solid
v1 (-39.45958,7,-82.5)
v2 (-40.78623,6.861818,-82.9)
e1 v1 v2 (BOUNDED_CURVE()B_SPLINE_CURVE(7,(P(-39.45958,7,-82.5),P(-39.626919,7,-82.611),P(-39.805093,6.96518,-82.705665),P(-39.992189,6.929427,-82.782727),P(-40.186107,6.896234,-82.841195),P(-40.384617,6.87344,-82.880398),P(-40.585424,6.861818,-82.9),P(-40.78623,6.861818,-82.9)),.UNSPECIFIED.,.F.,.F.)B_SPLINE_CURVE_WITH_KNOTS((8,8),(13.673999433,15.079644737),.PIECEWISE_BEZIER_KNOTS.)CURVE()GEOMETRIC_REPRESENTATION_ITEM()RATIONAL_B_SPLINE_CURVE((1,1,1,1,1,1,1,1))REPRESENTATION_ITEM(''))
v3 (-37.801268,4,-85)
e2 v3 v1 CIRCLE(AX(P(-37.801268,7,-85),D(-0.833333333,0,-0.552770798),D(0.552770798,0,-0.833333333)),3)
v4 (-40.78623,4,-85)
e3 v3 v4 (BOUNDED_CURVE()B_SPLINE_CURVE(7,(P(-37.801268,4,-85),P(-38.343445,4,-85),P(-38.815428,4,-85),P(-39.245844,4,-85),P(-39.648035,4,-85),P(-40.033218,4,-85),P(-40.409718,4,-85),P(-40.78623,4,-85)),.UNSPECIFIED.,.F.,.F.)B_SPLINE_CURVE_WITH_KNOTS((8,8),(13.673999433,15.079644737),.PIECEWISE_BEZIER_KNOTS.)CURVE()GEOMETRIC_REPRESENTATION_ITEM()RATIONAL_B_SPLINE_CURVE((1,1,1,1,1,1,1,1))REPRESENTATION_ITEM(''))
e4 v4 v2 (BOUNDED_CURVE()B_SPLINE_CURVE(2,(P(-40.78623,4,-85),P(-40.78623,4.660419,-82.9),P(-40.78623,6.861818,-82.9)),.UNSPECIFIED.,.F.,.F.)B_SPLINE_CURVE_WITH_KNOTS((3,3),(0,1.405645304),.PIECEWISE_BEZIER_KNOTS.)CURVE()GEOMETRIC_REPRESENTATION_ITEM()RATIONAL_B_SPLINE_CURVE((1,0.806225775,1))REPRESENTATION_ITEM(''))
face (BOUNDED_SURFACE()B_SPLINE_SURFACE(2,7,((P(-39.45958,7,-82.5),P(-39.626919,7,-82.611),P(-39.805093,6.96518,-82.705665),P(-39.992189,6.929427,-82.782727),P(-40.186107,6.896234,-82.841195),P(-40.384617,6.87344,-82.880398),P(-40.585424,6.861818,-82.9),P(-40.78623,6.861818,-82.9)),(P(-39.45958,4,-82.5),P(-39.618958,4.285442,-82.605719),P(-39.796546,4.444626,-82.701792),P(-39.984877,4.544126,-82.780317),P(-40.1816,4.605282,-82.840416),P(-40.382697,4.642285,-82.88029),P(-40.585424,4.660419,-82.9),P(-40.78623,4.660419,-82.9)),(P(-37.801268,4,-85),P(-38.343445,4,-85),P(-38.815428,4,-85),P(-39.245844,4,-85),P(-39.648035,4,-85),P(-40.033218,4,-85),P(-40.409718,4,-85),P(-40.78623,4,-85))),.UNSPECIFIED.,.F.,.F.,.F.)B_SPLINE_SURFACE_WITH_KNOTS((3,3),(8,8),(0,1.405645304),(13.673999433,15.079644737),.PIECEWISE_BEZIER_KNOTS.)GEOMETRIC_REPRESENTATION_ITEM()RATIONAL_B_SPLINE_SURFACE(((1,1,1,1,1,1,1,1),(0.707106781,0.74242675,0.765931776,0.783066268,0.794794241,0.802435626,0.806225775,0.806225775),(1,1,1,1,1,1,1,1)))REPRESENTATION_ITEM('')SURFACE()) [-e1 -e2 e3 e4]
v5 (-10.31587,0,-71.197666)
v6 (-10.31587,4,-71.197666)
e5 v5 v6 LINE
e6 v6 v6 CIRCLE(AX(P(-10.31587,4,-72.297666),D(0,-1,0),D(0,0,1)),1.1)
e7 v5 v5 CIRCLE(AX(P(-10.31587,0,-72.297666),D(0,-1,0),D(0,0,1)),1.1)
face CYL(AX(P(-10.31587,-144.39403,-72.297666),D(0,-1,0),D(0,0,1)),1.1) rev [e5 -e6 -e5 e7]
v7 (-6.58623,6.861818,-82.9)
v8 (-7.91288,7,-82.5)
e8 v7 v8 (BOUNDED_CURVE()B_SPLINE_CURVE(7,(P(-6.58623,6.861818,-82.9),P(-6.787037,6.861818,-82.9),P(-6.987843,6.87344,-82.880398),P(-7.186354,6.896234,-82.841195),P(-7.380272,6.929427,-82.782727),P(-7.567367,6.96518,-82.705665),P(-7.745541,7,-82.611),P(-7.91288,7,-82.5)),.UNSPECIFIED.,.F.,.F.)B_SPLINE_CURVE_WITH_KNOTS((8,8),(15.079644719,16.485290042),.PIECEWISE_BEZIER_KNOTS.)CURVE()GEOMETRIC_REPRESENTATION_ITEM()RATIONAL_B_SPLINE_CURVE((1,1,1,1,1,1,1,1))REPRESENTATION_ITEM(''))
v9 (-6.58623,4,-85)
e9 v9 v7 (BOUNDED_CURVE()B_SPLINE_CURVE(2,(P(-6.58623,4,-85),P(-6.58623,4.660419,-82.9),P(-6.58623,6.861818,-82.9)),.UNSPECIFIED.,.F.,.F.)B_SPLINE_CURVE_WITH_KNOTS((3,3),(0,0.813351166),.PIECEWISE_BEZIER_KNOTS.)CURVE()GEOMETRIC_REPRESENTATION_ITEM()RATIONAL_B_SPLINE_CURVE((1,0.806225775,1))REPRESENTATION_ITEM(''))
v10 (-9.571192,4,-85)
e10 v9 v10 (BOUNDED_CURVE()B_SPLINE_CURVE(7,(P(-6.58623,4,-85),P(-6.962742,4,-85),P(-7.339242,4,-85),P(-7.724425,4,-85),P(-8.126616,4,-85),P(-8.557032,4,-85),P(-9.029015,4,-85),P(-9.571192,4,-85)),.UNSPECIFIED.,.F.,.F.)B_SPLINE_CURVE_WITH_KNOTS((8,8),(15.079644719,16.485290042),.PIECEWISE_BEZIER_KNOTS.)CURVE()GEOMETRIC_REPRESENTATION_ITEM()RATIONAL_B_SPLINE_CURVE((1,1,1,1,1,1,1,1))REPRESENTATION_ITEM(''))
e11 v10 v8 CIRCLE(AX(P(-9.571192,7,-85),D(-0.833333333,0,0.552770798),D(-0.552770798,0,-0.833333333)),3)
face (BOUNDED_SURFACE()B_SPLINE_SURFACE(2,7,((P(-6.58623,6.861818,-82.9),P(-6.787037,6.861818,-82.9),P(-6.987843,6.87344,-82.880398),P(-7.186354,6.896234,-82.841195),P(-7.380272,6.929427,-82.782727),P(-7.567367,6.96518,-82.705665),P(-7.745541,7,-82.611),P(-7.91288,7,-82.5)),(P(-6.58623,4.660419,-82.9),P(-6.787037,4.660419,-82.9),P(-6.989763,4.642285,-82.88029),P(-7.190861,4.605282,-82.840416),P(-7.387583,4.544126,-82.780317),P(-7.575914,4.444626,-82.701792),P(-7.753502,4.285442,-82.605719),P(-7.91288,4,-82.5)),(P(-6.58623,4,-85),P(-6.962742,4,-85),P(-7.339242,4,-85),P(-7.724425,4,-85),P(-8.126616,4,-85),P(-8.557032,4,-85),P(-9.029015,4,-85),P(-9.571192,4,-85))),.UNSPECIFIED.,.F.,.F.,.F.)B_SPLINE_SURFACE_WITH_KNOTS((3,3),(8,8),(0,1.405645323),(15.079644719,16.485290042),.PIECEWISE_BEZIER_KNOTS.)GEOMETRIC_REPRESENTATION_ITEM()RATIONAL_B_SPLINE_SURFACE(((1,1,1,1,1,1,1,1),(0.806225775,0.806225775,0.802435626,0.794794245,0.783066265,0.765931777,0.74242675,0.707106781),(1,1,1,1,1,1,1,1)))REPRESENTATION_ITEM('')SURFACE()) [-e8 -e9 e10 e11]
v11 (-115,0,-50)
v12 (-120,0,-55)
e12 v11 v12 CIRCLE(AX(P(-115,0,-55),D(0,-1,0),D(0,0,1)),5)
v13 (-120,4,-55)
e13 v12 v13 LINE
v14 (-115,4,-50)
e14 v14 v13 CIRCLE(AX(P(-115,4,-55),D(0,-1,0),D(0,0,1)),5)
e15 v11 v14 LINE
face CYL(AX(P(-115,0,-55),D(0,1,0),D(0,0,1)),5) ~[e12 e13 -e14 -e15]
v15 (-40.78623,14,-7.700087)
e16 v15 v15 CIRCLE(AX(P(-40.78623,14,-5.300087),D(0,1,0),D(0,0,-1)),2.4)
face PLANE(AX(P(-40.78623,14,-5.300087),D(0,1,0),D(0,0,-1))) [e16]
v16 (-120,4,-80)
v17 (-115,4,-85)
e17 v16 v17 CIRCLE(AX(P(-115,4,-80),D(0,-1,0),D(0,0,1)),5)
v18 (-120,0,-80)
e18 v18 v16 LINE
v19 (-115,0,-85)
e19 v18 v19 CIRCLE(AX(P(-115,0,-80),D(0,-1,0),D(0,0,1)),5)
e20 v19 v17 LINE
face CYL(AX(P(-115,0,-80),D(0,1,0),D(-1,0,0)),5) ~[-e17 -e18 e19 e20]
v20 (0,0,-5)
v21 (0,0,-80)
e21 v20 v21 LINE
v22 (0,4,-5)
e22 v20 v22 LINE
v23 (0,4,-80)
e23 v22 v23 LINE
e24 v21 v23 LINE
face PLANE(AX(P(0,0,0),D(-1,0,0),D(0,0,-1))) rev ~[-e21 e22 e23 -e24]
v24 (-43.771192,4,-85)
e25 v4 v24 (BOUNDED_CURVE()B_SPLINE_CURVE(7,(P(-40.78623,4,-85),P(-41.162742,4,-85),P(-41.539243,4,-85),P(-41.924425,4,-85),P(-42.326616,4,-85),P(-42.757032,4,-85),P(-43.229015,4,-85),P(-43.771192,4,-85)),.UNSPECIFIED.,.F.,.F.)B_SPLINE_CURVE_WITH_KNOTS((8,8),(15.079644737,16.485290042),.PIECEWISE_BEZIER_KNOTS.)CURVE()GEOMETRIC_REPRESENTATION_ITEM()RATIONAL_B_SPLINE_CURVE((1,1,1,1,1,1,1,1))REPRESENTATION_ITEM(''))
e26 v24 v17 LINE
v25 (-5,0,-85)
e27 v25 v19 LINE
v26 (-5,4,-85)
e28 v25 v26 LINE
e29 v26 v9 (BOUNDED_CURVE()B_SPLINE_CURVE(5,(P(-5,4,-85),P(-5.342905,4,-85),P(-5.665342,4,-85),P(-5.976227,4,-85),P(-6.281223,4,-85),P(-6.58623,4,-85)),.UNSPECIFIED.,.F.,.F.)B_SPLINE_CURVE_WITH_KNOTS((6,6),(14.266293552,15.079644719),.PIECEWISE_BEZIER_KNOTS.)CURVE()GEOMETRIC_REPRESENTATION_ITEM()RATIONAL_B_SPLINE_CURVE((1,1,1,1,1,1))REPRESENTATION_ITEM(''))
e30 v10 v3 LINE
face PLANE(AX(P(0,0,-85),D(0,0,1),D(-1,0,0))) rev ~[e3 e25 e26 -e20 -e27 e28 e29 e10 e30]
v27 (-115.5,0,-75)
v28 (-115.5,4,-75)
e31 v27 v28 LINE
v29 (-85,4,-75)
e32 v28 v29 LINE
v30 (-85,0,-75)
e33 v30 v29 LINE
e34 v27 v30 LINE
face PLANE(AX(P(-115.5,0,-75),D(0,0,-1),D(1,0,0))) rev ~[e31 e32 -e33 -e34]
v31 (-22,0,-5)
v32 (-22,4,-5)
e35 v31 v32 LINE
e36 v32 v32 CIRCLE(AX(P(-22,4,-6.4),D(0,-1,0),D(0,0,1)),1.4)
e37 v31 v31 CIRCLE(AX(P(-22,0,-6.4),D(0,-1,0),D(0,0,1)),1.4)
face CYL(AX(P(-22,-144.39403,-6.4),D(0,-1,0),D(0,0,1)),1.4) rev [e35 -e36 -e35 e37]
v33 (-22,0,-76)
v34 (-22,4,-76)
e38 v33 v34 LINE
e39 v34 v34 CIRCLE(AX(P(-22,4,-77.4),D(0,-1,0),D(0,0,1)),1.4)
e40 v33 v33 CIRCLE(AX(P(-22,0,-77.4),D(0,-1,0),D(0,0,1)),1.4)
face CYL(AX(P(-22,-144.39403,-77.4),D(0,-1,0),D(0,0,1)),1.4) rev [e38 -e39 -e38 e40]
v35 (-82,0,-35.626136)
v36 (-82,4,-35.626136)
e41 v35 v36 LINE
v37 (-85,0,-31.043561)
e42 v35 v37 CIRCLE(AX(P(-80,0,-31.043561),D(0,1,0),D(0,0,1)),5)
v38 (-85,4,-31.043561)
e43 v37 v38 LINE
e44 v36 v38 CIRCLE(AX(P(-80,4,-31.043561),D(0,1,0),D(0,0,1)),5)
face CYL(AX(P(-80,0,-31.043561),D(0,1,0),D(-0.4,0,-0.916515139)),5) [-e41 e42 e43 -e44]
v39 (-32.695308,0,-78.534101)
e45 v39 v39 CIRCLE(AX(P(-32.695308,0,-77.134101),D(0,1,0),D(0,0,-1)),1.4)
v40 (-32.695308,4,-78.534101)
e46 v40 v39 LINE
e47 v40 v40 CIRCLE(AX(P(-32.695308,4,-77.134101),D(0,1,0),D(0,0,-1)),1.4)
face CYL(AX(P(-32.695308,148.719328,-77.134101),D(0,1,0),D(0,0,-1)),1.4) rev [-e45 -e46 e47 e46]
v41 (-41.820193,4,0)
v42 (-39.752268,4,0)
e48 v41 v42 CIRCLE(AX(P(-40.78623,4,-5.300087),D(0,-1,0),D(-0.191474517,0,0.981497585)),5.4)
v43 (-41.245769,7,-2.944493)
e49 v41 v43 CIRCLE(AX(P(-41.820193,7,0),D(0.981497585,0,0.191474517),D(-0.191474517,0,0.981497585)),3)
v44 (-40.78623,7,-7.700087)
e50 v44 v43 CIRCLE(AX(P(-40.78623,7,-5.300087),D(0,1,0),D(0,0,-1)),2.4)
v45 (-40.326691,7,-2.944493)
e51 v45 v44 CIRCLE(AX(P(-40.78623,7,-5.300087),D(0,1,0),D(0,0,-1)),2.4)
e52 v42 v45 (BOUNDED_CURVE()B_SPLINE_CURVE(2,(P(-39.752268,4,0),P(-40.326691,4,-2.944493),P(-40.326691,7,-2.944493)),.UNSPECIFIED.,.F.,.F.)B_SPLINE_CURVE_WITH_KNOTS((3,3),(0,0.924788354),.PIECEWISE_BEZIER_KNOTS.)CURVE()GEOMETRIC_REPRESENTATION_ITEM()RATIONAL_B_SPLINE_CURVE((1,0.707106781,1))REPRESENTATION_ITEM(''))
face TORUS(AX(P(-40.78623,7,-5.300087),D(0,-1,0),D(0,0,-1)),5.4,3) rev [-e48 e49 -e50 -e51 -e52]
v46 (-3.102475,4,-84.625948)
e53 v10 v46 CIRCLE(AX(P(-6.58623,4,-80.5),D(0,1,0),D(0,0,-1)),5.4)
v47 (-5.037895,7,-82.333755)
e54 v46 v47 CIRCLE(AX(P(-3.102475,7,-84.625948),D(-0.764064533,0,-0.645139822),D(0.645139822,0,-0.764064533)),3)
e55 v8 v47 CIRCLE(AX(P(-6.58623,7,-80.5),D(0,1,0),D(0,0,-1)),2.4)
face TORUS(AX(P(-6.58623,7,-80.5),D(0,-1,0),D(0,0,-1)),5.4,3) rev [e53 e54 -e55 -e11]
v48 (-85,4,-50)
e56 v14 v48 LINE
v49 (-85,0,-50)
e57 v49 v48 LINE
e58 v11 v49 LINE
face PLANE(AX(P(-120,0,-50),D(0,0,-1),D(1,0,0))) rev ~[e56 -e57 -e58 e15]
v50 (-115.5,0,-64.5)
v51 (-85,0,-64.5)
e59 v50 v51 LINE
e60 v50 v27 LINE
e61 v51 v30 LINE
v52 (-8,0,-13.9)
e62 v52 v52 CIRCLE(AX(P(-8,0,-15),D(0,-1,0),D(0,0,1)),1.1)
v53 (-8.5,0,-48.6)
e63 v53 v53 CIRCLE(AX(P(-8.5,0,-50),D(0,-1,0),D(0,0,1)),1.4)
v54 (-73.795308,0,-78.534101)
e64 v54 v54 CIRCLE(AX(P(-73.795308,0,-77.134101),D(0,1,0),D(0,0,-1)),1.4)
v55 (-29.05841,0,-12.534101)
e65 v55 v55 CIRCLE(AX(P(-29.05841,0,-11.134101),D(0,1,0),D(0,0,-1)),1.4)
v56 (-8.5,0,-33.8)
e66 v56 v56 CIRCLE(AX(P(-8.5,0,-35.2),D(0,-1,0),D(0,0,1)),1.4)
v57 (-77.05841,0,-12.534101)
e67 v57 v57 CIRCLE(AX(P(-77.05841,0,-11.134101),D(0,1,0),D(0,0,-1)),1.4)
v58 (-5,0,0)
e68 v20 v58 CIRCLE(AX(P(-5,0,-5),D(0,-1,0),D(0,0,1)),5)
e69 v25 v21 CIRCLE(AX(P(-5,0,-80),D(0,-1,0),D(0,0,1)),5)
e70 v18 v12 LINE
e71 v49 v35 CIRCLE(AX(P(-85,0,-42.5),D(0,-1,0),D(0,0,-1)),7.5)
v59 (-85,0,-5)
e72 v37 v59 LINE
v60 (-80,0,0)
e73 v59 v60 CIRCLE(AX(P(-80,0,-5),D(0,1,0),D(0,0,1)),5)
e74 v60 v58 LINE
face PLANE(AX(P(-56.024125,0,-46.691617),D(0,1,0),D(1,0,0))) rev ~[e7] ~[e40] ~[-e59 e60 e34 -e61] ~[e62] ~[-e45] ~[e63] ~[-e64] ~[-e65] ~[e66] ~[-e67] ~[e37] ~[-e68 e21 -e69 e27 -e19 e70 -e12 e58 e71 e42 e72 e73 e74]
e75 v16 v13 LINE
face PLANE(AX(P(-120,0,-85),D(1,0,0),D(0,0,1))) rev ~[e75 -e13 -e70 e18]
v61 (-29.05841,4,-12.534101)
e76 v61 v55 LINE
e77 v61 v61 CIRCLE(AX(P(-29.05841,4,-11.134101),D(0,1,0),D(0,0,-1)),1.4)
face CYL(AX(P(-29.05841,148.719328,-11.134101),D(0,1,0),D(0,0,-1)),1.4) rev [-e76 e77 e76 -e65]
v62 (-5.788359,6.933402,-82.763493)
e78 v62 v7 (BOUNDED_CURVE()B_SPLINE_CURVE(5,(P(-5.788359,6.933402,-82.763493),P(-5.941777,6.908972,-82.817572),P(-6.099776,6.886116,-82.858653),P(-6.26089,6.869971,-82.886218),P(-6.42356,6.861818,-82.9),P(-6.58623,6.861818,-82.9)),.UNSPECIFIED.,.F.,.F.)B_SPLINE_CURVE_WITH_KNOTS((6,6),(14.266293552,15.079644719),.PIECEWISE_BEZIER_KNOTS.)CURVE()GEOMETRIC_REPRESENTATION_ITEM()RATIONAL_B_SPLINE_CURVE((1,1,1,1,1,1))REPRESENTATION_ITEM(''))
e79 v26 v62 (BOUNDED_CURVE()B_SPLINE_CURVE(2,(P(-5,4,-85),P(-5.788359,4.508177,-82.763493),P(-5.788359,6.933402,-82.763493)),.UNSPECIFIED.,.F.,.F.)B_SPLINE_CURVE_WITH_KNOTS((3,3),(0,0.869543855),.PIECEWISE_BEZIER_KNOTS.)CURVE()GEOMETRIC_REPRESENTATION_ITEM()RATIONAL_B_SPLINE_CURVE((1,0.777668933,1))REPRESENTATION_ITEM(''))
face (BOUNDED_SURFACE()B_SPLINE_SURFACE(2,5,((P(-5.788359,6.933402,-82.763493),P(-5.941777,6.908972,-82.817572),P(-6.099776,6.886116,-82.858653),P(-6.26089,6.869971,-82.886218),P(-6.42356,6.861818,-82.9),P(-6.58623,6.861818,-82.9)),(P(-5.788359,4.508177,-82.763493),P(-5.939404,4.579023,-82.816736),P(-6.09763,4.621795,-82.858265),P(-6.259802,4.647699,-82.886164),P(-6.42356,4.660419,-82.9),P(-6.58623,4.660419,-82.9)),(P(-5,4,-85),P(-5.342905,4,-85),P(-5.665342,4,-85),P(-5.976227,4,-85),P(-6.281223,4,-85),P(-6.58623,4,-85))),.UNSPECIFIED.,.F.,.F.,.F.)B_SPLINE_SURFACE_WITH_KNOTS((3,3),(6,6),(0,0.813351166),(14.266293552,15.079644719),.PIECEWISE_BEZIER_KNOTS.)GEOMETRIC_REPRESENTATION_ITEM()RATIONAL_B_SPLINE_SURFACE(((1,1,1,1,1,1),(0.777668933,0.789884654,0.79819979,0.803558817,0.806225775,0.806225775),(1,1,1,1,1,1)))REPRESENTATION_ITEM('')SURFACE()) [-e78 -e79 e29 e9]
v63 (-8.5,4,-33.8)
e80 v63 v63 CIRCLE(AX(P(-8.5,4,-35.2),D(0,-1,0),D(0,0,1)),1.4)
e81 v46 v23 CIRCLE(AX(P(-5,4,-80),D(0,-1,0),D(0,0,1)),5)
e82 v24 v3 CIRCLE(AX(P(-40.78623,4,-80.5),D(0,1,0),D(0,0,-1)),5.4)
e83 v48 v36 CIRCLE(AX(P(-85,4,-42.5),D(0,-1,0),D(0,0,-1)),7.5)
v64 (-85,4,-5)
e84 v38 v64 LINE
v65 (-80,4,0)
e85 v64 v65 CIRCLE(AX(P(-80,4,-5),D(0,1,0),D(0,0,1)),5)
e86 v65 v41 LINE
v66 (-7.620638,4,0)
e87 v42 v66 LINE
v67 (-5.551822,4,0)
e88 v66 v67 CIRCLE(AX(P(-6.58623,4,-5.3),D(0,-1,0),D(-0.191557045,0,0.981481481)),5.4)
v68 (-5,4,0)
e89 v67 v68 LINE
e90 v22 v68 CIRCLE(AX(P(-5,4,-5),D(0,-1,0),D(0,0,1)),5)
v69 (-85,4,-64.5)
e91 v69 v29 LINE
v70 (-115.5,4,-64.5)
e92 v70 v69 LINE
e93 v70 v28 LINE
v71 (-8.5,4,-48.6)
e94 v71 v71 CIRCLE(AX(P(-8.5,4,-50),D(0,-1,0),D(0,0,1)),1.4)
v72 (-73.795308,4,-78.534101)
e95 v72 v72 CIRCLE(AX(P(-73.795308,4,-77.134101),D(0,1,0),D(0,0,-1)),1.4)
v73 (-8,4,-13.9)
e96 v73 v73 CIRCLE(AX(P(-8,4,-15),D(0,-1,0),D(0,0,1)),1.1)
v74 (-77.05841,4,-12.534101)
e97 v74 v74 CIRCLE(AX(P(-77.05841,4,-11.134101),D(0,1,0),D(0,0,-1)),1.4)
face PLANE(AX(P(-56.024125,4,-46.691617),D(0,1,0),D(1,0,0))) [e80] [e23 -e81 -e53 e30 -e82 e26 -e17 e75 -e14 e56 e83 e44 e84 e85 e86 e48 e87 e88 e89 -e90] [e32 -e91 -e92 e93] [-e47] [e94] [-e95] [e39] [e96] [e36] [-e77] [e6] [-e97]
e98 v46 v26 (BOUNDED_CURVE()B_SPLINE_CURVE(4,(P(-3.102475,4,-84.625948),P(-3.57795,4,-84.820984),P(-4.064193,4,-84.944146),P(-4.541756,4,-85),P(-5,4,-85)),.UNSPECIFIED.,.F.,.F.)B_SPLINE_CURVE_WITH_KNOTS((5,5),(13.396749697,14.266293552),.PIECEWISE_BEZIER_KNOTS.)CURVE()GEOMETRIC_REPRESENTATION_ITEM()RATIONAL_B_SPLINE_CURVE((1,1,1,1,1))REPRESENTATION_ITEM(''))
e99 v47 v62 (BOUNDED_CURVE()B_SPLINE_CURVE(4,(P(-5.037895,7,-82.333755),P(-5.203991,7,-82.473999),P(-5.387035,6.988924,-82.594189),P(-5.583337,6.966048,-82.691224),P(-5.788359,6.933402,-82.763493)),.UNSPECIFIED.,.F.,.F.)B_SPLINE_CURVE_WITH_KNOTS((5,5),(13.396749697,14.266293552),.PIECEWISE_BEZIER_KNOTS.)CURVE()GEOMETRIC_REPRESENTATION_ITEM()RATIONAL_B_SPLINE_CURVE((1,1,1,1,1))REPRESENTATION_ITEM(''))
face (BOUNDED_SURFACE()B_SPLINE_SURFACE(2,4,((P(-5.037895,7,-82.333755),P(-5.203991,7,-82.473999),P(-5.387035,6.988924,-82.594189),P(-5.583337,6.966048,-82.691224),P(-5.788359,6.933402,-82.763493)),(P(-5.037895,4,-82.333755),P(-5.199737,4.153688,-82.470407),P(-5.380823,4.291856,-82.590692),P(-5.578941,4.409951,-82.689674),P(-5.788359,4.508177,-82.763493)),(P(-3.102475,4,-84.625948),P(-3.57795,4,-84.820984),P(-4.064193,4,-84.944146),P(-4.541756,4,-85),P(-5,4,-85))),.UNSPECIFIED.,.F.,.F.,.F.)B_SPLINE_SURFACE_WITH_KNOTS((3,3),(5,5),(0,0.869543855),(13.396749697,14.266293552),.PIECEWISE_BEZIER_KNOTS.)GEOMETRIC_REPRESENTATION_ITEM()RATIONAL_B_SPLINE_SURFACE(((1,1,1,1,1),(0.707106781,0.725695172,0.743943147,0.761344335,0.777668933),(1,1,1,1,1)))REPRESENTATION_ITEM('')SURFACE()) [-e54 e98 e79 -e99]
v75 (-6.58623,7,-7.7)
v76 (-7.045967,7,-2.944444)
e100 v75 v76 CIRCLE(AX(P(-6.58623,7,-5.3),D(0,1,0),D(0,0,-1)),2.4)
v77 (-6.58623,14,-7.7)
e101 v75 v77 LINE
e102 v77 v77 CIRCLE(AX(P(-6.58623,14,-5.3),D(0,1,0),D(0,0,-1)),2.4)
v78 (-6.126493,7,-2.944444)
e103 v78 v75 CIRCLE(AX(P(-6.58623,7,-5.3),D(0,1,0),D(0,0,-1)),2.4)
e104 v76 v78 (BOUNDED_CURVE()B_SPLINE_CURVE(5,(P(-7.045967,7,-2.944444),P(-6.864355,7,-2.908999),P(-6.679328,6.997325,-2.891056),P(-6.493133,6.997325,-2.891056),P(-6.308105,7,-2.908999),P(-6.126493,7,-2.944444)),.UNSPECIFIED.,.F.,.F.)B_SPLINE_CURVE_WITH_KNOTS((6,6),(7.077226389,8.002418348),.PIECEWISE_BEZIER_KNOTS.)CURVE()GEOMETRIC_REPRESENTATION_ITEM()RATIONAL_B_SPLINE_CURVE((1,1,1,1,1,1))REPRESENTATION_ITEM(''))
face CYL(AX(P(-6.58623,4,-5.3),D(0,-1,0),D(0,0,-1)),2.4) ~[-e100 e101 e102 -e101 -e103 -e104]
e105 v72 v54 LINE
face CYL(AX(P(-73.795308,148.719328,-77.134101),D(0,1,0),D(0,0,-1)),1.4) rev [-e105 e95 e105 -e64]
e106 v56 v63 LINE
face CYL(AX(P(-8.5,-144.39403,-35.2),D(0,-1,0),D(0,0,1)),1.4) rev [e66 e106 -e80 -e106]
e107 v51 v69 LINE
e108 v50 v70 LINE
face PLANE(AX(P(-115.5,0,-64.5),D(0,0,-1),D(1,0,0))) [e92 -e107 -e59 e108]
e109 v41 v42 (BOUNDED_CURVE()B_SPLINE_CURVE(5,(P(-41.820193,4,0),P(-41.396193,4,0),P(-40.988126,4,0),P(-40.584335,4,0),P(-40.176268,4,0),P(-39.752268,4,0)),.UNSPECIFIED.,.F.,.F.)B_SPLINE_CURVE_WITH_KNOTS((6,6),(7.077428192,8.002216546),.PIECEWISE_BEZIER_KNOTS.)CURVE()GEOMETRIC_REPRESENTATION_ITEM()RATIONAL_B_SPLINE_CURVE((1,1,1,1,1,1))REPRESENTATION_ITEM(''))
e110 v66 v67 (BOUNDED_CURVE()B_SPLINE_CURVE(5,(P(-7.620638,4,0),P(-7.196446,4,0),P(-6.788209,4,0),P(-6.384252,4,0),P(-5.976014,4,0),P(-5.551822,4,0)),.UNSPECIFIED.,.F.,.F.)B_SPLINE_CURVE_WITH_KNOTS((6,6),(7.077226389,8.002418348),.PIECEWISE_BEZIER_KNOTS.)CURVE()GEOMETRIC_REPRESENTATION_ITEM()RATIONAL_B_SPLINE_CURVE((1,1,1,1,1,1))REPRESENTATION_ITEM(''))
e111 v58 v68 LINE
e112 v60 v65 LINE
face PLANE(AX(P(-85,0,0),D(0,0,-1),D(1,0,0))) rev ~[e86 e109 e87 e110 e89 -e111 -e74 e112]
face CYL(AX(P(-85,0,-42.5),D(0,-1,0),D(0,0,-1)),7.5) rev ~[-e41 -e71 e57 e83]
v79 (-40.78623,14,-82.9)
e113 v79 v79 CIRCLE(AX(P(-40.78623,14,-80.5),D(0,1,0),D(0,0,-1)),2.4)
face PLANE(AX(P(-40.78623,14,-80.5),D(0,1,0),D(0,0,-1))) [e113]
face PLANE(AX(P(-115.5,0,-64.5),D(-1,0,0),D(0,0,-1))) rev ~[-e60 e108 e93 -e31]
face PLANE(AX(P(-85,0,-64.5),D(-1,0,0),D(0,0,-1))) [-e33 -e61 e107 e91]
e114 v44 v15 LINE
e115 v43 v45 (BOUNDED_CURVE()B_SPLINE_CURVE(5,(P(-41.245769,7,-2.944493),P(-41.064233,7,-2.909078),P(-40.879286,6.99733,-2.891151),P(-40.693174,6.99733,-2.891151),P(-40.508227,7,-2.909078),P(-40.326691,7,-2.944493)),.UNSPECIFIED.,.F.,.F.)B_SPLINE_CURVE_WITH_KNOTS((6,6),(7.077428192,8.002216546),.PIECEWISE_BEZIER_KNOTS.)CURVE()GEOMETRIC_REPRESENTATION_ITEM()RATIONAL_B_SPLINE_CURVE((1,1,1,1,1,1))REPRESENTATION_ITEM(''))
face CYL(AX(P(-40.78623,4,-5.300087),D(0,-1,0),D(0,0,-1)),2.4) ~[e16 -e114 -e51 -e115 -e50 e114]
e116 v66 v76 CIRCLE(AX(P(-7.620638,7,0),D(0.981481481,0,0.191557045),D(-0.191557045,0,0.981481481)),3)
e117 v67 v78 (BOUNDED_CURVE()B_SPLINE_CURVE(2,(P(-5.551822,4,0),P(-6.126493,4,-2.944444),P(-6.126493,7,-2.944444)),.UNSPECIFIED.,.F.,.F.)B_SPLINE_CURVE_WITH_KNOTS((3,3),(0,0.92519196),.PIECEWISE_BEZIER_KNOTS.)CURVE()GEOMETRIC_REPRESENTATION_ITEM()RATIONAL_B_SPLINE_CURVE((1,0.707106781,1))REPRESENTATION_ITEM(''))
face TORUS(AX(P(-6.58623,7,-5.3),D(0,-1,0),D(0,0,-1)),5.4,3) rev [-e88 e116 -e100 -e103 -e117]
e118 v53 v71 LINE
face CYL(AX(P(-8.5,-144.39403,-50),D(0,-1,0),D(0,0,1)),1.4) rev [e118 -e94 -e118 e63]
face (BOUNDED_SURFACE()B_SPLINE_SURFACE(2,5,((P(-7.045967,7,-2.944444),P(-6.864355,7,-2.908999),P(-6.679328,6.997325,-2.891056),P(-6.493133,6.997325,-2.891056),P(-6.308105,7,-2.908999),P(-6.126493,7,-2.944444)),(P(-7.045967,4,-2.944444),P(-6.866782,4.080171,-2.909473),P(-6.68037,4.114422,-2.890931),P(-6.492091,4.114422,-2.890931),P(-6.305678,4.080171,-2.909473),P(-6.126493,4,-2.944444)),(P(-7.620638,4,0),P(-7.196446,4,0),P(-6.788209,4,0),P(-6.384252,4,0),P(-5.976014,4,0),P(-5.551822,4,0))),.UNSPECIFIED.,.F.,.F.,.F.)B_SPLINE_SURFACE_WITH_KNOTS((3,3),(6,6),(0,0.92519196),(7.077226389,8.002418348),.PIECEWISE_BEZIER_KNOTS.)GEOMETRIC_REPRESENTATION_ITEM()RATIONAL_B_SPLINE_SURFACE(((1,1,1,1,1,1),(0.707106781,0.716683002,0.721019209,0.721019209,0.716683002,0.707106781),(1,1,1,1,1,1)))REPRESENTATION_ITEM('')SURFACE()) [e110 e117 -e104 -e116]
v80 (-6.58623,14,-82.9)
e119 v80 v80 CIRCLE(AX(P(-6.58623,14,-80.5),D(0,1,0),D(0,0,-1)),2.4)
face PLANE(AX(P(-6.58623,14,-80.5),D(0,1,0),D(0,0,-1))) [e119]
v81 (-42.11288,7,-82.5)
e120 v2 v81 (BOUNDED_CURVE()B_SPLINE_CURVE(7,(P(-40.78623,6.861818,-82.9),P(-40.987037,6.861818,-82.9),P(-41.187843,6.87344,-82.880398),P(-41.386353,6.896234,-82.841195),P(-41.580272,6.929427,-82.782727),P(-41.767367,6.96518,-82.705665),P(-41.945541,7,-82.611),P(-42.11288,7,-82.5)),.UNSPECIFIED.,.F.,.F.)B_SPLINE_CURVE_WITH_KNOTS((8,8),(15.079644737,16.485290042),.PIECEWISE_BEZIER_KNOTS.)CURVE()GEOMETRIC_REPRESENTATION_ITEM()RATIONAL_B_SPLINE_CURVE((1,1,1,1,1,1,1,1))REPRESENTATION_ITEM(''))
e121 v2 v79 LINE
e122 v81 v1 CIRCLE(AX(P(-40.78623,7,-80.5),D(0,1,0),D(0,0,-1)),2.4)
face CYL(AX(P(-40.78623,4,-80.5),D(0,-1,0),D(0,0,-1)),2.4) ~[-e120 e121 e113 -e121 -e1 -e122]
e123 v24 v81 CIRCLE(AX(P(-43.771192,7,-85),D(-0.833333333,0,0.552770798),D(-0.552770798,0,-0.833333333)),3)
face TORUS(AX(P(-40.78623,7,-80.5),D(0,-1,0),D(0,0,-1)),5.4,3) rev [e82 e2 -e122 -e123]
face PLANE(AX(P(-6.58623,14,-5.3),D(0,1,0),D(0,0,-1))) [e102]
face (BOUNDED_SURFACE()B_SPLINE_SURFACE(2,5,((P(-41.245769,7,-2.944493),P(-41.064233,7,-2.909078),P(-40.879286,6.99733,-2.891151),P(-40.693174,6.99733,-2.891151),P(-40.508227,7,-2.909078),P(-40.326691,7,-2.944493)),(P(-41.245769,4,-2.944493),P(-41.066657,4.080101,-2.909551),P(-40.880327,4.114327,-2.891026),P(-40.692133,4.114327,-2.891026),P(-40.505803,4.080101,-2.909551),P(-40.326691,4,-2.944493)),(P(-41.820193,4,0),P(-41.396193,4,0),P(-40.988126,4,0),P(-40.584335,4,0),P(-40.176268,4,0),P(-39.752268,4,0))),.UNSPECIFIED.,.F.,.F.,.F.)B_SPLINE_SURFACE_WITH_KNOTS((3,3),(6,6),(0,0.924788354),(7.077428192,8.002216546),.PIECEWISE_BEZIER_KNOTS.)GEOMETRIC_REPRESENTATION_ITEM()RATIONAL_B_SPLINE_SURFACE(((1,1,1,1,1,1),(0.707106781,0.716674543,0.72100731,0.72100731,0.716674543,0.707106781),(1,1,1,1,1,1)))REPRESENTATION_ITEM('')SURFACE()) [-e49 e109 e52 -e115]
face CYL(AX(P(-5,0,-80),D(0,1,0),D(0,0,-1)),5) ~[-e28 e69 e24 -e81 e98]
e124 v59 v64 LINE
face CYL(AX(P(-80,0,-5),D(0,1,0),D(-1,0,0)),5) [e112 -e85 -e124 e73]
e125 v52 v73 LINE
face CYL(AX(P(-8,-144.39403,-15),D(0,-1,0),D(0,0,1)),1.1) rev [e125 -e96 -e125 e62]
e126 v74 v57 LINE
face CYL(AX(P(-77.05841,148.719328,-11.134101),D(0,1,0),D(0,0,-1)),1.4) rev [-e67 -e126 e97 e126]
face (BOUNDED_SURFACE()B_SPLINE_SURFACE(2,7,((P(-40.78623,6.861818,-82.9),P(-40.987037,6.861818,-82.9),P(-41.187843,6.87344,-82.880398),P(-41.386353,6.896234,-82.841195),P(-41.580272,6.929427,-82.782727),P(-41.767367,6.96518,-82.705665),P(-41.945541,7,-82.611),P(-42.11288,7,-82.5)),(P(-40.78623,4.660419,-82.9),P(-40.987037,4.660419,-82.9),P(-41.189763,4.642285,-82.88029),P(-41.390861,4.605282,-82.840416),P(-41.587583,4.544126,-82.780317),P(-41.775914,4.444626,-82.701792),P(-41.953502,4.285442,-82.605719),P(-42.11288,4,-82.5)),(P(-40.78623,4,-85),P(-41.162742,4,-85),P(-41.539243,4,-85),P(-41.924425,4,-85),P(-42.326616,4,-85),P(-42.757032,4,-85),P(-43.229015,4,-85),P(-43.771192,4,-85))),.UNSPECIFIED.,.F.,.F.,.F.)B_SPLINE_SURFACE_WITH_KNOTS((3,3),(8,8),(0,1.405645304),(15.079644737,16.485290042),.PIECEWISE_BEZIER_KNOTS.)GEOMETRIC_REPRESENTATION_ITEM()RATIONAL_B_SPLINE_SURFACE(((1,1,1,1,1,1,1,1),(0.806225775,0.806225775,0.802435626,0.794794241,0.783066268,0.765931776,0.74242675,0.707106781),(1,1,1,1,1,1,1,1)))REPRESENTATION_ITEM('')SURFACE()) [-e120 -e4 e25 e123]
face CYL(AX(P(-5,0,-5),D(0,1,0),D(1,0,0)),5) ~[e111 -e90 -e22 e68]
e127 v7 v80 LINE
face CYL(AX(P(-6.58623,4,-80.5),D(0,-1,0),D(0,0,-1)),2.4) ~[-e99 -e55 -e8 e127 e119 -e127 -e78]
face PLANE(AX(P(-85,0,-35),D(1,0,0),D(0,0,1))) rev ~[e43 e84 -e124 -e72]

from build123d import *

# Parameters (mm, degrees)
SKETCH2_W               = 30.5
SKETCH2_H               = 10.5
BOSS_EXTRUDE1_DEPTH     = 4
FILLET1_R               = 5
SKETCH3_R               = 2.4
BOSS_EXTRUDE2_DEPTH     = 10
CUT_EXTRUDE1_DEPTH      = 148.39402973
CUT_EXTRUDE1_DEPTH_BACK = 148.39402973
SKETCH4_R               = 1.4
SKETCH4_R_2             = 1.1
CUT_EXTRUDE2_DEPTH      = 148.719328458
CUT_EXTRUDE2_DEPTH_BACK = 148.719328458
SKETCH5_R               = 1.4
FILLET2_R               = 3
FILLET3_R               = 3
FILLET4_R               = 3


with BuildPart() as part:
    # Sketch2 → Boss-Extrude1 (new body)
    with BuildSketch(Plane(origin=(0, 0, 0), x_dir=(1, 0, 0), z_dir=(0, 1, 0))):
        with BuildLine():
            Line((-120, 50), (-85, 50))
            ThreePointArc((-85, 50), (-77.5, 42.5), (-85, 35))
            Line((-85, 35), (-85, 0))
            Line((-85, 0), (0, 0))
            Line((0, 0), (0, 85))
            Line((0, 85), (-120, 85))
            Line((-120, 85), (-120, 50))
        make_face()
        with Locations((-100.25, 69.75)):
            Rectangle(SKETCH2_W, SKETCH2_H, mode=Mode.SUBTRACT)
    extrude(amount=BOSS_EXTRUDE1_DEPTH)

    # Fillet1
    fillet1_edges = [part.edges().sort_by_distance(p)[0] for p in [
        (0, 2, 0),
        (-85, 2, 0),
        (-85, 2, -35),
        (-120, 2, -50),
        (-120, 2, -85),
        (0, 2, -85),
    ]]
    fillet(fillet1_edges, radius=FILLET1_R)

    # Sketch3 → Boss-Extrude2 (add)
    with BuildSketch(Plane(origin=(0, 4, 0), x_dir=(1, 0, 0), z_dir=(0, 1, 0))):
        with Locations(Location((-6.586230152, 80.5, 0), (0, 0, 90))):
            Circle(SKETCH3_R)
        with Locations(Location((-40.786230152, 80.5, 0), (0, 0, 90))):
            Circle(SKETCH3_R)
        with Locations(Location((-40.786230152, 5.300086959, 0), (0, 0, 90))):
            Circle(SKETCH3_R)
        with Locations(Location((-6.586230152, 5.3, 0), (0, 0, 90))):
            Circle(SKETCH3_R)
    extrude(amount=BOSS_EXTRUDE2_DEPTH)

    # Sketch4 → Cut-Extrude1 (cut, two sides: drawn at the far end of the back side and taken through both)
    with BuildSketch(Plane(origin=(0, 4, 0), x_dir=(1, 0, 0), z_dir=(0, 1, 0)).offset(-CUT_EXTRUDE1_DEPTH_BACK)):
        with Locations(Location((-8.5, 50, 0), (0, 0, 270))):
            Circle(SKETCH4_R)
        with Locations(Location((-8.5, 35.2, 0), (0, 0, 270))):
            Circle(SKETCH4_R)
        with Locations(Location((-8, 15, 0), (0, 0, 270))):
            Circle(SKETCH4_R_2)
        with Locations(Location((-22, 6.4, 0), (0, 0, 270))):
            Circle(SKETCH4_R)
        with Locations(Location((-22, 77.4, 0), (0, 0, 270))):
            Circle(SKETCH4_R)
        with Locations(Location((-10.315869942, 72.297665639, 0), (0, 0, 270))):
            Circle(SKETCH4_R_2)
    extrude(amount=CUT_EXTRUDE1_DEPTH + CUT_EXTRUDE1_DEPTH_BACK, mode=Mode.SUBTRACT)

    # Sketch5 → Cut-Extrude2 (cut, two sides: drawn at the far end of the back side and taken through both)
    with BuildSketch(Plane.XZ.offset(-CUT_EXTRUDE2_DEPTH_BACK)):
        with Locations(Location((-32.695307694, -77.13410082, 0), (0, 0, 270))):
            Circle(SKETCH5_R)
        with Locations(Location((-73.795307694, -77.13410082, 0), (0, 0, 270))):
            Circle(SKETCH5_R)
        with Locations(Location((-77.058410355, -11.13410082, 0), (0, 0, 270))):
            Circle(SKETCH5_R)
        with Locations(Location((-29.058410355, -11.13410082, 0), (0, 0, 270))):
            Circle(SKETCH5_R)
    extrude(amount=CUT_EXTRUDE2_DEPTH + CUT_EXTRUDE2_DEPTH_BACK, mode=Mode.SUBTRACT)

    # Fillet2
    fillet2_edges = [part.edges().sort_by_distance(p)[0] for p in [
        (-6.586230152, 4, -2.9),
    ]]
    fillet(fillet2_edges, radius=FILLET2_R)

    # Fillet3
    fillet3_edges = [part.edges().sort_by_distance(p)[0] for p in [
        (-40.786230152, 4, -2.900086959),
    ]]
    fillet(fillet3_edges, radius=FILLET3_R)

    # Fillet4
    fillet4_edges = [part.edges().sort_by_distance(p)[0] for p in [
        (-6.586230152, 4, -78.1),
        (-40.786230152, 4, -78.1),
    ]]
    fillet(fillet4_edges, radius=FILLET4_R)


solid = part.part
